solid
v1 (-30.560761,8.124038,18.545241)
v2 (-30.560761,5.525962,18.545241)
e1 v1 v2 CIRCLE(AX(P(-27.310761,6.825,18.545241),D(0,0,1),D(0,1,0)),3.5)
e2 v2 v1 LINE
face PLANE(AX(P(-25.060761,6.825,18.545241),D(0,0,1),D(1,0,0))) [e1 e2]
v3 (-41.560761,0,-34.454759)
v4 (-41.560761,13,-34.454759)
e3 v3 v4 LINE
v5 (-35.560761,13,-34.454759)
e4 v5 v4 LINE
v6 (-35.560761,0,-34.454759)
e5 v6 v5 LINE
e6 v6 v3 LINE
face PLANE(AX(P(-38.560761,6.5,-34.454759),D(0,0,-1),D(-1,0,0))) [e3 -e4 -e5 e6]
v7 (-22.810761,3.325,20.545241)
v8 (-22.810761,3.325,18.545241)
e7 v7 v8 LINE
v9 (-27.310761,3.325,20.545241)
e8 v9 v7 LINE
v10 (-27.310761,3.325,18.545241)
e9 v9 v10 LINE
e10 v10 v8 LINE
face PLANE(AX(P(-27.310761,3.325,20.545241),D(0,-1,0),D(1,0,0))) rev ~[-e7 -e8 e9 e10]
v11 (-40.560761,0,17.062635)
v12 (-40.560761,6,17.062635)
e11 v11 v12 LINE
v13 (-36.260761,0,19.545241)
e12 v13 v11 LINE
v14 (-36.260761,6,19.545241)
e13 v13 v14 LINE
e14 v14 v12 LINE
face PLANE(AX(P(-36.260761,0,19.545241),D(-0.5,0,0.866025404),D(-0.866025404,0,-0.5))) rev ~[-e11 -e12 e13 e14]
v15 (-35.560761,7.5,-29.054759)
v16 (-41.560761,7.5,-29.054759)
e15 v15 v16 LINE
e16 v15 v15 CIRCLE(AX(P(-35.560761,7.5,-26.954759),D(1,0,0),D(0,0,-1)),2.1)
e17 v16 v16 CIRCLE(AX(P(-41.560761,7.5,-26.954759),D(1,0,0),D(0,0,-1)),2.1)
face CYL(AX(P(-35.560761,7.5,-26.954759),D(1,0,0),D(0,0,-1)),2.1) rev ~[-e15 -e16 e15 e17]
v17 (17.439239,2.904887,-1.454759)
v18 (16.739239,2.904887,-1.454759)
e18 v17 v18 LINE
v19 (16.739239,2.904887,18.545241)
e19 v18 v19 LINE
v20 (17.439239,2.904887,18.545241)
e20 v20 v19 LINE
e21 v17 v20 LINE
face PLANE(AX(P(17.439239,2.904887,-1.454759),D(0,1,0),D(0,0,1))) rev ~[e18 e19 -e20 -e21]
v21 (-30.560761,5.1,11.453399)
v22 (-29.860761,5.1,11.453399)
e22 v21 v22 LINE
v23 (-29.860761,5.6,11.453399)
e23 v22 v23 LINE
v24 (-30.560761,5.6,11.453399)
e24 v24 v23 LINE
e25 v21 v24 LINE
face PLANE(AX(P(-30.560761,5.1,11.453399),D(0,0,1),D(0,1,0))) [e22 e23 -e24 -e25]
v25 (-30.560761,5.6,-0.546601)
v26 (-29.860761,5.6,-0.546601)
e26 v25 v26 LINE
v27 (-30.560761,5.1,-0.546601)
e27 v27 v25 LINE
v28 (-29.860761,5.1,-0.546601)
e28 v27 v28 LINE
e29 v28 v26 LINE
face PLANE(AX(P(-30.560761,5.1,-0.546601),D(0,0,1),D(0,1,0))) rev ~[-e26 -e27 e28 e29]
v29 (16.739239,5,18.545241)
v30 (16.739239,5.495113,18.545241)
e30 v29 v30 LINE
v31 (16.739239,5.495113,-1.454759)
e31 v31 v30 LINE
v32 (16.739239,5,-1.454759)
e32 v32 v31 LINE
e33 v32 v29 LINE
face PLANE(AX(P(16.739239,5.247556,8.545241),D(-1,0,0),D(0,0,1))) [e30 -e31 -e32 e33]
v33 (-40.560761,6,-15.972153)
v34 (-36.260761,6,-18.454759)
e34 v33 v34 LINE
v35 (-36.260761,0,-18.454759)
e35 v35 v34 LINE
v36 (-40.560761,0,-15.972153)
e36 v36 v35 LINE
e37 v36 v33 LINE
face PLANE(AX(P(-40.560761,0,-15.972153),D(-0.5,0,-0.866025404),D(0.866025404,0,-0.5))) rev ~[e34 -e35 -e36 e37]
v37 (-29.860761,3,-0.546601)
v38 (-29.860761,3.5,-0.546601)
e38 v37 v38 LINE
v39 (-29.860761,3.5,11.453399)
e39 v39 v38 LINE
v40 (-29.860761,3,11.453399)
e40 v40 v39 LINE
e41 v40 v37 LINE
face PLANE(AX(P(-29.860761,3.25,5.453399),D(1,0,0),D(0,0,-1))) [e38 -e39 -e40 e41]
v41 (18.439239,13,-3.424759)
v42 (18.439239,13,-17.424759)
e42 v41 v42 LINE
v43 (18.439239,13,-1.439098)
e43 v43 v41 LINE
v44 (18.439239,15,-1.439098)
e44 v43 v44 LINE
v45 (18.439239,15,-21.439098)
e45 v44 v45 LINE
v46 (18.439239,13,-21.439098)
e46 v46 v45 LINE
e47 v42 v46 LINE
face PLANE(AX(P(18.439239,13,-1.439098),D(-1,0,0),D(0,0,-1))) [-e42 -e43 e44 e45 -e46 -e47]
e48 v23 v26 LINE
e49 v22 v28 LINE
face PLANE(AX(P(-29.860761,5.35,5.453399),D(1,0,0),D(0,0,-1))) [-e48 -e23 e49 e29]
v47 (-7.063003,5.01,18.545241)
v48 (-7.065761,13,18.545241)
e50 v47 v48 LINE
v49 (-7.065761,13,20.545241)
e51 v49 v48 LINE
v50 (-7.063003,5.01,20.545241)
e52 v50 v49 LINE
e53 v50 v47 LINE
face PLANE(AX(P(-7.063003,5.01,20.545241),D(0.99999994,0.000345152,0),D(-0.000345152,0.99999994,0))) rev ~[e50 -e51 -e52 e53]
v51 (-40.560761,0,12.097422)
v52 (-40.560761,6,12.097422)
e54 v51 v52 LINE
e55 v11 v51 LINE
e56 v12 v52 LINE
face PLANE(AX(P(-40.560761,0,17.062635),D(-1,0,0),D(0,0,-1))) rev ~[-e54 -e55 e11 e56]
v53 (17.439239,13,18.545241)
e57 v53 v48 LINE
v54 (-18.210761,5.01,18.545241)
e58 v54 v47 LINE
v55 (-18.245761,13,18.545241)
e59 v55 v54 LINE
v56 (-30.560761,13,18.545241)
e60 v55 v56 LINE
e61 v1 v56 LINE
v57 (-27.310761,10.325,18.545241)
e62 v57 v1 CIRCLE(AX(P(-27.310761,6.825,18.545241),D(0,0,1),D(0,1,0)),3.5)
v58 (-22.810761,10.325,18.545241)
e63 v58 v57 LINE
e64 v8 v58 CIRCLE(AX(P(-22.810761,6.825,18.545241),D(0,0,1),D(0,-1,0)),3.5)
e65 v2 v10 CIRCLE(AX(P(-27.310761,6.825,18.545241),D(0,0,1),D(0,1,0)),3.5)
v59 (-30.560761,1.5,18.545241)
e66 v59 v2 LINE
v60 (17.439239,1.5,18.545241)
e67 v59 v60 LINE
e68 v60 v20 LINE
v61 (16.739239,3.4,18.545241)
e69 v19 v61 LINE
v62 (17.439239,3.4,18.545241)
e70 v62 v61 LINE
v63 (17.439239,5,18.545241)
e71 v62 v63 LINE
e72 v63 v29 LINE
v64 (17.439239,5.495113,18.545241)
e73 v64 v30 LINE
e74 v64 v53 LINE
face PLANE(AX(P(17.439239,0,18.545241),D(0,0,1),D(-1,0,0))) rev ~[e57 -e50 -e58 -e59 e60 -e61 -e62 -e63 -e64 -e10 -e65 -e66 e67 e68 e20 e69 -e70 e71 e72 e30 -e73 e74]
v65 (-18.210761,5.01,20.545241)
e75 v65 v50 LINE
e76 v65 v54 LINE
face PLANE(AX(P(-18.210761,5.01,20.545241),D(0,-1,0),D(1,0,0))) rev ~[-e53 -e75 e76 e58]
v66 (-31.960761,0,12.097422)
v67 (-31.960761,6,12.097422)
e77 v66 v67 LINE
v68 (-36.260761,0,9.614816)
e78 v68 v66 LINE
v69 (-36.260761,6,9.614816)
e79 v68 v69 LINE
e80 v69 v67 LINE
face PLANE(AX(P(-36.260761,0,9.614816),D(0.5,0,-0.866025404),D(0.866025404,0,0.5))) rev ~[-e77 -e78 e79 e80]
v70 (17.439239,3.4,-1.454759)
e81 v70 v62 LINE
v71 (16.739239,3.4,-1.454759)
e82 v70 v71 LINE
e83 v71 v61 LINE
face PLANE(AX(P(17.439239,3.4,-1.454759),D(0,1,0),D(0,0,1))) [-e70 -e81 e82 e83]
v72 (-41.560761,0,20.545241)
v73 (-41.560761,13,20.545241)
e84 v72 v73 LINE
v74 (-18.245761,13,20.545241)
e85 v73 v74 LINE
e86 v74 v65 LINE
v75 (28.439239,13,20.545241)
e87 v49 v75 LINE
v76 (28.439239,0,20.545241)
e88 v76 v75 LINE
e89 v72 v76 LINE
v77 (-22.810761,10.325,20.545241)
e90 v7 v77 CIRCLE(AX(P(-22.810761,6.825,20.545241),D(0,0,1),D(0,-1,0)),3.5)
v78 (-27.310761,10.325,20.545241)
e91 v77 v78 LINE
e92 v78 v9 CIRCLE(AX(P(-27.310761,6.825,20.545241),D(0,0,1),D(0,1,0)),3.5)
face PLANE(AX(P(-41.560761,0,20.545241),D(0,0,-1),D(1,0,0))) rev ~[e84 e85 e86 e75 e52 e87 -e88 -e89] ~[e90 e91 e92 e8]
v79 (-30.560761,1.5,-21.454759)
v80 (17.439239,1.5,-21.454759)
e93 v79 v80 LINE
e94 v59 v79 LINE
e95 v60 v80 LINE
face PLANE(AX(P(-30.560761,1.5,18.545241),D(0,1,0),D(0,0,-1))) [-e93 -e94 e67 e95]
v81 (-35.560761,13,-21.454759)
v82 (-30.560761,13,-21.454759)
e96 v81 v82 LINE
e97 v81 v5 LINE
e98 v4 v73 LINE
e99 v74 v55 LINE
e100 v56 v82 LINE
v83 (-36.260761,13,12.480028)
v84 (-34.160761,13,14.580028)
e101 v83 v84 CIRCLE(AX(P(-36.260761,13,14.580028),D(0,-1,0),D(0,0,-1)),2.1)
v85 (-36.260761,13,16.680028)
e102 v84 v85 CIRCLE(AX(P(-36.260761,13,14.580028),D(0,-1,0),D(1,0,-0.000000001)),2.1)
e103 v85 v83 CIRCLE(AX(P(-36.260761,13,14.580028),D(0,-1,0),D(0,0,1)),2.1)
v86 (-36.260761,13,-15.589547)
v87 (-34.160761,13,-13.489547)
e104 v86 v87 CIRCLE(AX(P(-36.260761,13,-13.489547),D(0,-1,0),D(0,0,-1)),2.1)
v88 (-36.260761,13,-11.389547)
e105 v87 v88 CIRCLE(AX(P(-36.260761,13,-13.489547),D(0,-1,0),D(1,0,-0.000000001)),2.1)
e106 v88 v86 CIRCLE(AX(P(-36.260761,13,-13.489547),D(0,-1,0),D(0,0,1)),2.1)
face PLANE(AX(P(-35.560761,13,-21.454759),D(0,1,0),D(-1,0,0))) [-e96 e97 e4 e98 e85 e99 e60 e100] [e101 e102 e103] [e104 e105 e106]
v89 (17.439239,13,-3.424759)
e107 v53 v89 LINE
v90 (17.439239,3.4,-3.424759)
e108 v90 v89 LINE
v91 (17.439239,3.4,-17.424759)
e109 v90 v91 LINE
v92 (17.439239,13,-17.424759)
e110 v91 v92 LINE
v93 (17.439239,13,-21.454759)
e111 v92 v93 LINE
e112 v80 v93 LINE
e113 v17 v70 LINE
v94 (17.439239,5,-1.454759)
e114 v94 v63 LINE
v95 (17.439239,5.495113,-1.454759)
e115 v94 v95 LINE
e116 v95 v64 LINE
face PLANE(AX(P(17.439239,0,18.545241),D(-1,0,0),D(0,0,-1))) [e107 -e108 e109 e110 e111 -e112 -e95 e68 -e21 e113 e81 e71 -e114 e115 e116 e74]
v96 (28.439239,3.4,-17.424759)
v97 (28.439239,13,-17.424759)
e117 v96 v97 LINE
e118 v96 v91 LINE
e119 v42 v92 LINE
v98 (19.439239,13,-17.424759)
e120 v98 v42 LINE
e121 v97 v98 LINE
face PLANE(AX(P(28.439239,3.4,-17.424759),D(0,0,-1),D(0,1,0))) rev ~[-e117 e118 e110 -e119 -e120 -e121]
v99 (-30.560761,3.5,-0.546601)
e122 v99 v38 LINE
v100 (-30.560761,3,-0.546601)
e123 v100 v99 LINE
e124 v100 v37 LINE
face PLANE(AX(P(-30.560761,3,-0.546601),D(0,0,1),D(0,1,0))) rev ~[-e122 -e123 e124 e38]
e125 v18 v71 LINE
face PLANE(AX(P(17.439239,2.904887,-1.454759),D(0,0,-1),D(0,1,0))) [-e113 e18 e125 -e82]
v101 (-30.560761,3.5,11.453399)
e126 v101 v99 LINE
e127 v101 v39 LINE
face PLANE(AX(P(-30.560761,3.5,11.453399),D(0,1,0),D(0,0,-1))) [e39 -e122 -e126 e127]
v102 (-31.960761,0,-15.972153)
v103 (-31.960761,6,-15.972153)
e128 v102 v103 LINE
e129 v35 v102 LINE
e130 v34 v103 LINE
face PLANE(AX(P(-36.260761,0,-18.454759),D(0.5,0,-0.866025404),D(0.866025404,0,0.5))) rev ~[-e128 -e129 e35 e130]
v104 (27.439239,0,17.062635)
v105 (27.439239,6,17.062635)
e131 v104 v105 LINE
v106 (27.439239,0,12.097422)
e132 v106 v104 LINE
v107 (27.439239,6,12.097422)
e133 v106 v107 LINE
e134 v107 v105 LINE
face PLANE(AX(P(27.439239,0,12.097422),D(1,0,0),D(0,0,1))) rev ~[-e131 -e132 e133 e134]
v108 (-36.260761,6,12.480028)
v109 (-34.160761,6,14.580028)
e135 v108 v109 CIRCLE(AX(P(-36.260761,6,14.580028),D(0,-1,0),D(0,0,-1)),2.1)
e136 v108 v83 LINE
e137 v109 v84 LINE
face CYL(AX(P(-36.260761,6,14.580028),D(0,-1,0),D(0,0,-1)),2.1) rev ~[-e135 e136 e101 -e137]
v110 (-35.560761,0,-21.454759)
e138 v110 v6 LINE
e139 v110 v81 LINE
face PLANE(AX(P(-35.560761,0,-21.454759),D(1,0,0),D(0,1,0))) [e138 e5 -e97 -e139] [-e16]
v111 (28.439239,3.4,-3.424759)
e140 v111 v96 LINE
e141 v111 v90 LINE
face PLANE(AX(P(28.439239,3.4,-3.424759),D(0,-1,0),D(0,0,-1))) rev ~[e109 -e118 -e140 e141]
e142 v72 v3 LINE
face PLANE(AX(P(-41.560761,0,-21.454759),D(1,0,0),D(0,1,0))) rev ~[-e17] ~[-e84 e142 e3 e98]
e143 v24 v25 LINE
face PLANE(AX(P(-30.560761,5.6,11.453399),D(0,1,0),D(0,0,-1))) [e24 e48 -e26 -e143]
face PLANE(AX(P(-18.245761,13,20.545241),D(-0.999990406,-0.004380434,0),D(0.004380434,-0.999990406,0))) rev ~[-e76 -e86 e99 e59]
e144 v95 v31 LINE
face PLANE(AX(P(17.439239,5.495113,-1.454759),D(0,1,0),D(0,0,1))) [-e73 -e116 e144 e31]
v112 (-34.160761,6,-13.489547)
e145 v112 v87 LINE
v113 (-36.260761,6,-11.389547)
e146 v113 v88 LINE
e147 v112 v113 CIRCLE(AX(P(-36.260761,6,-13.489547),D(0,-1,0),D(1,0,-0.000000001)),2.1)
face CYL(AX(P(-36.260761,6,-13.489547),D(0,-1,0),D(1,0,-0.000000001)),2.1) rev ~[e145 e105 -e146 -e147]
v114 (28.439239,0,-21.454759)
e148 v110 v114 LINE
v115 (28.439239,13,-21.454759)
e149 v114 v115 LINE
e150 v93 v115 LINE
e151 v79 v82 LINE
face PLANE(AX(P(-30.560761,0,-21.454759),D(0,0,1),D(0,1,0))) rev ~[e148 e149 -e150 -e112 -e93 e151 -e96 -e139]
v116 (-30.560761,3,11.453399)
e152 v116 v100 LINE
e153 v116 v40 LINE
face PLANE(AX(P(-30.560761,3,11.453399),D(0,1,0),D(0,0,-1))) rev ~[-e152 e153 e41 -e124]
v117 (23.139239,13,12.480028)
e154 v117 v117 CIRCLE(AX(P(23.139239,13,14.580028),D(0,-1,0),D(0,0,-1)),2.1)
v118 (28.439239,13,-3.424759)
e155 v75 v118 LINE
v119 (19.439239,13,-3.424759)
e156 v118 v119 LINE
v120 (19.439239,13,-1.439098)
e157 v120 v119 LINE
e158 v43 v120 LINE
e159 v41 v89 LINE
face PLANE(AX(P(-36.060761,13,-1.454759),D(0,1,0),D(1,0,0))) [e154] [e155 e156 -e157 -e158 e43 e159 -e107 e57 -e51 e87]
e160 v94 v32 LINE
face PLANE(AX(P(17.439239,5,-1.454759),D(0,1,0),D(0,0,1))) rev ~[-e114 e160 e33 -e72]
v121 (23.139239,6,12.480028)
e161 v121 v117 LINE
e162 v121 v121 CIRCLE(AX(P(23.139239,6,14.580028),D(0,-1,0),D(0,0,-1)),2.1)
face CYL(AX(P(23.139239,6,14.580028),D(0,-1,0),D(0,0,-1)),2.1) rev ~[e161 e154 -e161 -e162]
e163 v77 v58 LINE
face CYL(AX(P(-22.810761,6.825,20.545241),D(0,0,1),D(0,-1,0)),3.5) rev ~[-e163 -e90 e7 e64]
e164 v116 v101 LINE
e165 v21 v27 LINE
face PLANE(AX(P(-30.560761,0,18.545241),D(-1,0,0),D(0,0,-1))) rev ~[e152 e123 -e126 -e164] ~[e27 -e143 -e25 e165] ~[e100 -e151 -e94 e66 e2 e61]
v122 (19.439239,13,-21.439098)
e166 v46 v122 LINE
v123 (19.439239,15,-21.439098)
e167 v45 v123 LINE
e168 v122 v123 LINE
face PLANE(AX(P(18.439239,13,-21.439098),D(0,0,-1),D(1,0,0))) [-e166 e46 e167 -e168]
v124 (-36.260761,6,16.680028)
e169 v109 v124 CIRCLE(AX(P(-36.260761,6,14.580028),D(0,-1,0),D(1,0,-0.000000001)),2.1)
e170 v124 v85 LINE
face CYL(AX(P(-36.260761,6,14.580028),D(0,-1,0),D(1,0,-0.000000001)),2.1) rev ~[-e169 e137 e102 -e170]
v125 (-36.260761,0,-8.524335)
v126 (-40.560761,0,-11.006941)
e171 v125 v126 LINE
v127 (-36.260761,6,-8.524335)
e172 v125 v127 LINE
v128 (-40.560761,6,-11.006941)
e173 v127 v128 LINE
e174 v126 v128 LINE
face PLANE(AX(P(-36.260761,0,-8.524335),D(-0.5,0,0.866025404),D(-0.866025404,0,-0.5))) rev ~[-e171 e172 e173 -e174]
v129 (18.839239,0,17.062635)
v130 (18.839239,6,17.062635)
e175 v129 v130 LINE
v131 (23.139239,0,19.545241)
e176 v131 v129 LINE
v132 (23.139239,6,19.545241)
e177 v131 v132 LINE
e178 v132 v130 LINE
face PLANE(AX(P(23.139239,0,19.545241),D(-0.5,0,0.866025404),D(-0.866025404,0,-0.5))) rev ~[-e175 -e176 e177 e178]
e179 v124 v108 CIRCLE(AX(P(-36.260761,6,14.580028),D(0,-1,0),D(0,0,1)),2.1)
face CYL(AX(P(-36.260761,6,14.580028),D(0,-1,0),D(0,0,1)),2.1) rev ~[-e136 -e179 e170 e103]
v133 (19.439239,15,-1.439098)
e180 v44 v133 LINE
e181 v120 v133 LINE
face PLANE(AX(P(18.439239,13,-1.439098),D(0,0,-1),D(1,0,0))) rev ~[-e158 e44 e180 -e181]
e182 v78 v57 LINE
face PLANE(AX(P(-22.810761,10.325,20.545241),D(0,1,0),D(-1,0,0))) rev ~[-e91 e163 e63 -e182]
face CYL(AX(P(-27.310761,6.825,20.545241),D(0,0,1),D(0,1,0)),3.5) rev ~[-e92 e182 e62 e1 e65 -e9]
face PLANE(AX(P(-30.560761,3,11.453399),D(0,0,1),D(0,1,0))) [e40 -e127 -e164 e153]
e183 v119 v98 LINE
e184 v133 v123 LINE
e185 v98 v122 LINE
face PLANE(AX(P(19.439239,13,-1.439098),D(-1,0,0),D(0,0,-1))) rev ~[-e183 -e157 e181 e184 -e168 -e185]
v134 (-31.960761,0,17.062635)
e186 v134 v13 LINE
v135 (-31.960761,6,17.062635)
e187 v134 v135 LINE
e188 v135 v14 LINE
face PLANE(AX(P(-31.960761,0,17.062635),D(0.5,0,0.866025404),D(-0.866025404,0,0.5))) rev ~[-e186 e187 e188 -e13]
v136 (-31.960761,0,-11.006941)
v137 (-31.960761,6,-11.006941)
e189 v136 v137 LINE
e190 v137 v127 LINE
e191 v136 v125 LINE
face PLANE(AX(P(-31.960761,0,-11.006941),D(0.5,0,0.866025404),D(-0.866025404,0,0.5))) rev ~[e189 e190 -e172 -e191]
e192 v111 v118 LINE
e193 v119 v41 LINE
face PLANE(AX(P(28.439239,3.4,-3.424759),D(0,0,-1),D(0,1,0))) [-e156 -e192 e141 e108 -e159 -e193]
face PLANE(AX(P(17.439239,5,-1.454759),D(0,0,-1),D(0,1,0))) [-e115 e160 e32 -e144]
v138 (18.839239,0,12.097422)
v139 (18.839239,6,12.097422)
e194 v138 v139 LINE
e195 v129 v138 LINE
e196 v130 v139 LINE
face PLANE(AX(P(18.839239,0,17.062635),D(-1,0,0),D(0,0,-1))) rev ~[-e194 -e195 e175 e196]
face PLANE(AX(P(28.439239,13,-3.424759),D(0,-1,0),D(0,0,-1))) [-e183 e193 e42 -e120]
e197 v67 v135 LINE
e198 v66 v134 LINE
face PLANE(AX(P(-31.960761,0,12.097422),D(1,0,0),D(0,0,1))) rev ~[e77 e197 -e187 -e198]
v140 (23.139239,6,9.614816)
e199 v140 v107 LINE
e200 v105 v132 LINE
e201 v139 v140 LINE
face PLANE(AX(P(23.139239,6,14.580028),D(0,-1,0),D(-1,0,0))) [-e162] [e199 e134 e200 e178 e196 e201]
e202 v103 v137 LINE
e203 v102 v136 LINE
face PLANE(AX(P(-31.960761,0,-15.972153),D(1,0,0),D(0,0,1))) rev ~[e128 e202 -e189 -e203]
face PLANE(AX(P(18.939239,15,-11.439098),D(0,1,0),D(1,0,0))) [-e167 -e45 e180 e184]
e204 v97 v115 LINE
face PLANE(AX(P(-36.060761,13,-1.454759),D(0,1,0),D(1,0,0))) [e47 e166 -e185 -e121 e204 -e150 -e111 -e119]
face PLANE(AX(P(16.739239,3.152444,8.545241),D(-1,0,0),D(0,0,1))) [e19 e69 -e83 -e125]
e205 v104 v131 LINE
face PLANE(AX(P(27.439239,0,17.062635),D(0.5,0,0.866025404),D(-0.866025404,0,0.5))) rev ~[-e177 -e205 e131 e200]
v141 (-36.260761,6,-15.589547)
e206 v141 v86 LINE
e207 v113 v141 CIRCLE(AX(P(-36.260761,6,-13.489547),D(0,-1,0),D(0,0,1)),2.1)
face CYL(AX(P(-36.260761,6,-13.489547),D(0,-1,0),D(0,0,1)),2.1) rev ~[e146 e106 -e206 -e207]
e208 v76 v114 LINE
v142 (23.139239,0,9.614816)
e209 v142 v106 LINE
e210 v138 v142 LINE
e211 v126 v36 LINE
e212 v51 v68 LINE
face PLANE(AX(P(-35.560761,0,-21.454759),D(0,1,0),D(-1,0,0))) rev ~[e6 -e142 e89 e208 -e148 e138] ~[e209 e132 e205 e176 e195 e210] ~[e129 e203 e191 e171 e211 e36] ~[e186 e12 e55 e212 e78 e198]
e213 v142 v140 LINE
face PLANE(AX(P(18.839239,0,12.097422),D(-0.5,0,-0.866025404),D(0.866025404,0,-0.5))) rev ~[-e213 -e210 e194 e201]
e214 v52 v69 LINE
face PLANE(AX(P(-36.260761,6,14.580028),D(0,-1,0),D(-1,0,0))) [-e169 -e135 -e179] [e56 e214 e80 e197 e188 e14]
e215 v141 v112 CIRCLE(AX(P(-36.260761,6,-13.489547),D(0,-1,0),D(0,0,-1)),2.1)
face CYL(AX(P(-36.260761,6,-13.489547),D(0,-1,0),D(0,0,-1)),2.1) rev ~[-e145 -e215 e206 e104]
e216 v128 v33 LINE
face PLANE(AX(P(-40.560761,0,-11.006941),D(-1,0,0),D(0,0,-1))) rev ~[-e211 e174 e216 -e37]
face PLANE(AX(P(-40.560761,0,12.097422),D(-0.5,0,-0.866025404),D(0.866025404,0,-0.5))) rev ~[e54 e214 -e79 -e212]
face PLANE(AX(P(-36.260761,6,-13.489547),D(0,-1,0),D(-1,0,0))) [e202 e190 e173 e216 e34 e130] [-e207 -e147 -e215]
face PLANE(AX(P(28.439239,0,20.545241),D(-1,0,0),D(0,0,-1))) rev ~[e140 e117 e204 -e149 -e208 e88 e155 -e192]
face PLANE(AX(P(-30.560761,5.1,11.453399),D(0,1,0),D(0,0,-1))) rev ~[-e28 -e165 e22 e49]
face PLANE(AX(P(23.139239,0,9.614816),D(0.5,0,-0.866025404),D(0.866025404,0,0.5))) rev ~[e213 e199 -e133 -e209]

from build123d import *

# Parameters (mm, degrees)
SKETCH_1_W          = 11
SKETCH_1_H          = 40
EXTRUDE_1_DEPTH     = 13
SKETCH_2_W          = 40
SKETCH_2_H          = 1.5
EXTRUDE_2_DEPTH     = 48
SKETCH_3_W          = 12
SKETCH_3_H          = 0.5
EXTRUDE_3_DEPTH     = 0.7
SKETCH_4_W          = 20
SKETCH_4_H          = 0.495112862
EXTRUDE_4_DEPTH     = 0.7
CUT_EXTRUDE_1_DEPTH = 6
SKETCH_10_R         = 2.1
CUT_EXTRUDE_2_DEPTH = 9
CUT_EXTRUDE_3_DEPTH = 2
CUT_EXTRUDE_4_DEPTH = 2
SKETCH_17_W         = 1
SKETCH_17_H         = 20
EXTRUDE_6_DEPTH     = 2
SKETCH_21_W         = 6
SKETCH_21_H         = 13
EXTRUDE_8_DEPTH     = 13
SKETCH_23_R         = 2.1
CUT_EXTRUDE_7_DEPTH = 6
SKETCH_25_W         = 14
SKETCH_25_H         = 9.6
CUT_EXTRUDE_8_DEPTH = 11


with BuildPart() as part:
    # 草图1 → 凸台-拉伸1 (new body)
    with BuildSketch(Plane(origin=(0, 0, 0), x_dir=(1, 0, 0), z_dir=(0, 1, 0))):
        with Locations((-36.060761024, 1.454759243)):
            Rectangle(SKETCH_1_W, SKETCH_1_H)
        Polygon((17.439238976, -18.545240757), (-30.560761024, -18.545240757), (-41.560761024, -18.545240757), (-41.560761024, -20.545240757), (28.439238976, -20.545240757), (28.439238976, -18.545240757), align=None)
        with Locations((22.939238976, 1.454759243)):
            Rectangle(SKETCH_1_W, SKETCH_1_H)
    extrude(amount=EXTRUDE_1_DEPTH)

    # 草图2 → 凸台-拉伸2 (add)
    with BuildSketch(Plane(origin=(-30.560761024, 0, 0), x_dir=(0, 0, -1), z_dir=(1, 0, 0))):
        with Locations((1.454759243, 0.75)):
            Rectangle(SKETCH_2_W, SKETCH_2_H)
    extrude(amount=EXTRUDE_2_DEPTH)

    # 草图3 → 凸台-拉伸3 (add)
    with BuildSketch(Plane(origin=(-30.560761024, 0, 0), x_dir=(0, 0, -1), z_dir=(1, 0, 0))):
        with Locations((-5.453399323, 5.35)):
            Rectangle(SKETCH_3_W, SKETCH_3_H)
        with Locations((-5.453399323, 3.25)):
            Rectangle(SKETCH_3_W, SKETCH_3_H)
    extrude(amount=EXTRUDE_3_DEPTH)

    # 草图4 → 凸台-拉伸4 (add)
    with BuildSketch(Plane.ZY.offset(-17.439238976)):
        with Locations((8.545240757, 3.152443569)):
            Rectangle(SKETCH_4_W, SKETCH_4_H)
        with Locations((8.545240757, 5.247556431)):
            Rectangle(SKETCH_4_W, SKETCH_4_H)
    extrude(amount=EXTRUDE_4_DEPTH)

    # 草图5 → 切除-拉伸1 (cut)
    with BuildSketch(Plane(origin=(0, 0, 0), x_dir=(-1, 0, 0), z_dir=(0, -1, 0))):
        Polygon((-27.439238976, -12.097422285), (-27.439238976, -17.0626346), (-23.139238976, -19.545240757), (-18.839238976, -17.0626346), (-18.839238976, -12.097422285), (-23.139238976, -9.614816127), align=None)
        Polygon((31.960761024, -12.097422285), (31.960761024, -17.0626346), (36.260761024, -19.545240757), (40.560761024, -17.0626346), (40.560761024, -12.097422285), (36.260761024, -9.614816127), align=None)
        Polygon((31.960761024, 15.972153085), (31.960761024, 11.00694077), (36.260761024, 8.524334613), (40.560761024, 11.00694077), (40.560761024, 15.972153085), (36.260761024, 18.454759243), align=None)
    extrude(amount=-CUT_EXTRUDE_1_DEPTH, mode=Mode.SUBTRACT)

    # 草图10 → 切除-拉伸2 (cut)
    with BuildSketch(Plane.XZ.offset(-6)):
        with BuildLine():
            ThreePointArc((-34.160761024, -13.489546928), (-34.775836783, -12.004622687), (-36.260761024, -11.389546928))
            Line((-36.260761024, -11.389546928), (-36.260761024, -15.589546928))
            ThreePointArc((-36.260761024, -15.589546928), (-34.775836783, -14.974471168), (-34.160761024, -13.489546928))
        make_face()
        with BuildLine():
            Line((-36.260761024, -15.589546928), (-36.260761024, -11.389546928))
            ThreePointArc((-36.260761024, -11.389546928), (-38.360761024, -13.489546928), (-36.260761024, -15.589546928))
        make_face()
        with BuildLine():
            ThreePointArc((-34.160761024, 14.580028442), (-34.775836783, 16.064952683), (-36.260761024, 16.680028442))
            Line((-36.260761024, 16.680028442), (-36.260761024, 12.480028442))
            ThreePointArc((-36.260761024, 12.480028442), (-34.775836783, 13.095104202), (-34.160761024, 14.580028442))
        make_face()
        with BuildLine():
            Line((-36.260761024, 12.480028442), (-36.260761024, 16.680028442))
            ThreePointArc((-36.260761024, 16.680028442), (-38.360761024, 14.580028442), (-36.260761024, 12.480028442))
        make_face()
        with Locations(Location((23.139238976, 14.580028442, 0), (0, 0, 270))):
            Circle(SKETCH_10_R)
    extrude(amount=-CUT_EXTRUDE_2_DEPTH, mode=Mode.SUBTRACT)

    # 草图12 → 切除-拉伸3 (cut)
    with BuildSketch(Plane.XY.offset(20.545240757)):
        with BuildLine():
            Line((-27.310761024, 3.325), (-22.810761024, 3.325))
            ThreePointArc((-22.810761024, 3.325), (-19.310761024, 6.825), (-22.810761024, 10.325))
            Line((-22.810761024, 10.325), (-27.310761024, 10.325))
            ThreePointArc((-27.310761024, 10.325), (-30.810761024, 6.825), (-27.310761024, 3.325))
        make_face()
    extrude(amount=-CUT_EXTRUDE_3_DEPTH, mode=Mode.SUBTRACT)

    # 草图13 → 切除-拉伸4 (cut)
    with BuildSketch(Plane.XY.offset(20.545240757)):
        Polygon((-18.245761024, 13), (-18.210761024, 5.01), (-7.063003257, 5.01), (-7.065761024, 13), align=None)
    extrude(amount=-CUT_EXTRUDE_4_DEPTH, mode=Mode.SUBTRACT)

    # 草图17 → 凸台-拉伸6 (add)
    with BuildSketch(Plane(origin=(0, 13, 0), x_dir=(1, 0, 0), z_dir=(0, 1, 0))):
        with Locations((18.939238976, 11.439097948)):
            Rectangle(SKETCH_17_W, SKETCH_17_H)
    extrude(amount=EXTRUDE_6_DEPTH)

    # 草图21 → 凸台-拉伸8 (add)
    with BuildSketch(Plane(origin=(0, 0, -21.454759243), x_dir=(-1, 0, 0), z_dir=(0, 0, -1))):
        with Locations((38.560761024, 6.5)):
            Rectangle(SKETCH_21_W, SKETCH_21_H)
    extrude(amount=EXTRUDE_8_DEPTH)

    # 草图23 → 切除-拉伸7 (cut)
    with BuildSketch(Plane(origin=(-35.560761024, 0, 0), x_dir=(0, 0, -1), z_dir=(1, 0, 0))):
        with Locations((26.954759243, 7.5)):
            Circle(SKETCH_23_R)
    extrude(amount=-CUT_EXTRUDE_7_DEPTH, mode=Mode.SUBTRACT)

    # 草图25 → 切除-拉伸8 (cut)
    with BuildSketch(Plane(origin=(28.439238976, 0, 0), x_dir=(0, 0, -1), z_dir=(1, 0, 0))):
        with Locations((10.424759243, 8.2)):
            Rectangle(SKETCH_25_W, SKETCH_25_H)
    extrude(amount=-CUT_EXTRUDE_8_DEPTH, mode=Mode.SUBTRACT)


solid = part.part
